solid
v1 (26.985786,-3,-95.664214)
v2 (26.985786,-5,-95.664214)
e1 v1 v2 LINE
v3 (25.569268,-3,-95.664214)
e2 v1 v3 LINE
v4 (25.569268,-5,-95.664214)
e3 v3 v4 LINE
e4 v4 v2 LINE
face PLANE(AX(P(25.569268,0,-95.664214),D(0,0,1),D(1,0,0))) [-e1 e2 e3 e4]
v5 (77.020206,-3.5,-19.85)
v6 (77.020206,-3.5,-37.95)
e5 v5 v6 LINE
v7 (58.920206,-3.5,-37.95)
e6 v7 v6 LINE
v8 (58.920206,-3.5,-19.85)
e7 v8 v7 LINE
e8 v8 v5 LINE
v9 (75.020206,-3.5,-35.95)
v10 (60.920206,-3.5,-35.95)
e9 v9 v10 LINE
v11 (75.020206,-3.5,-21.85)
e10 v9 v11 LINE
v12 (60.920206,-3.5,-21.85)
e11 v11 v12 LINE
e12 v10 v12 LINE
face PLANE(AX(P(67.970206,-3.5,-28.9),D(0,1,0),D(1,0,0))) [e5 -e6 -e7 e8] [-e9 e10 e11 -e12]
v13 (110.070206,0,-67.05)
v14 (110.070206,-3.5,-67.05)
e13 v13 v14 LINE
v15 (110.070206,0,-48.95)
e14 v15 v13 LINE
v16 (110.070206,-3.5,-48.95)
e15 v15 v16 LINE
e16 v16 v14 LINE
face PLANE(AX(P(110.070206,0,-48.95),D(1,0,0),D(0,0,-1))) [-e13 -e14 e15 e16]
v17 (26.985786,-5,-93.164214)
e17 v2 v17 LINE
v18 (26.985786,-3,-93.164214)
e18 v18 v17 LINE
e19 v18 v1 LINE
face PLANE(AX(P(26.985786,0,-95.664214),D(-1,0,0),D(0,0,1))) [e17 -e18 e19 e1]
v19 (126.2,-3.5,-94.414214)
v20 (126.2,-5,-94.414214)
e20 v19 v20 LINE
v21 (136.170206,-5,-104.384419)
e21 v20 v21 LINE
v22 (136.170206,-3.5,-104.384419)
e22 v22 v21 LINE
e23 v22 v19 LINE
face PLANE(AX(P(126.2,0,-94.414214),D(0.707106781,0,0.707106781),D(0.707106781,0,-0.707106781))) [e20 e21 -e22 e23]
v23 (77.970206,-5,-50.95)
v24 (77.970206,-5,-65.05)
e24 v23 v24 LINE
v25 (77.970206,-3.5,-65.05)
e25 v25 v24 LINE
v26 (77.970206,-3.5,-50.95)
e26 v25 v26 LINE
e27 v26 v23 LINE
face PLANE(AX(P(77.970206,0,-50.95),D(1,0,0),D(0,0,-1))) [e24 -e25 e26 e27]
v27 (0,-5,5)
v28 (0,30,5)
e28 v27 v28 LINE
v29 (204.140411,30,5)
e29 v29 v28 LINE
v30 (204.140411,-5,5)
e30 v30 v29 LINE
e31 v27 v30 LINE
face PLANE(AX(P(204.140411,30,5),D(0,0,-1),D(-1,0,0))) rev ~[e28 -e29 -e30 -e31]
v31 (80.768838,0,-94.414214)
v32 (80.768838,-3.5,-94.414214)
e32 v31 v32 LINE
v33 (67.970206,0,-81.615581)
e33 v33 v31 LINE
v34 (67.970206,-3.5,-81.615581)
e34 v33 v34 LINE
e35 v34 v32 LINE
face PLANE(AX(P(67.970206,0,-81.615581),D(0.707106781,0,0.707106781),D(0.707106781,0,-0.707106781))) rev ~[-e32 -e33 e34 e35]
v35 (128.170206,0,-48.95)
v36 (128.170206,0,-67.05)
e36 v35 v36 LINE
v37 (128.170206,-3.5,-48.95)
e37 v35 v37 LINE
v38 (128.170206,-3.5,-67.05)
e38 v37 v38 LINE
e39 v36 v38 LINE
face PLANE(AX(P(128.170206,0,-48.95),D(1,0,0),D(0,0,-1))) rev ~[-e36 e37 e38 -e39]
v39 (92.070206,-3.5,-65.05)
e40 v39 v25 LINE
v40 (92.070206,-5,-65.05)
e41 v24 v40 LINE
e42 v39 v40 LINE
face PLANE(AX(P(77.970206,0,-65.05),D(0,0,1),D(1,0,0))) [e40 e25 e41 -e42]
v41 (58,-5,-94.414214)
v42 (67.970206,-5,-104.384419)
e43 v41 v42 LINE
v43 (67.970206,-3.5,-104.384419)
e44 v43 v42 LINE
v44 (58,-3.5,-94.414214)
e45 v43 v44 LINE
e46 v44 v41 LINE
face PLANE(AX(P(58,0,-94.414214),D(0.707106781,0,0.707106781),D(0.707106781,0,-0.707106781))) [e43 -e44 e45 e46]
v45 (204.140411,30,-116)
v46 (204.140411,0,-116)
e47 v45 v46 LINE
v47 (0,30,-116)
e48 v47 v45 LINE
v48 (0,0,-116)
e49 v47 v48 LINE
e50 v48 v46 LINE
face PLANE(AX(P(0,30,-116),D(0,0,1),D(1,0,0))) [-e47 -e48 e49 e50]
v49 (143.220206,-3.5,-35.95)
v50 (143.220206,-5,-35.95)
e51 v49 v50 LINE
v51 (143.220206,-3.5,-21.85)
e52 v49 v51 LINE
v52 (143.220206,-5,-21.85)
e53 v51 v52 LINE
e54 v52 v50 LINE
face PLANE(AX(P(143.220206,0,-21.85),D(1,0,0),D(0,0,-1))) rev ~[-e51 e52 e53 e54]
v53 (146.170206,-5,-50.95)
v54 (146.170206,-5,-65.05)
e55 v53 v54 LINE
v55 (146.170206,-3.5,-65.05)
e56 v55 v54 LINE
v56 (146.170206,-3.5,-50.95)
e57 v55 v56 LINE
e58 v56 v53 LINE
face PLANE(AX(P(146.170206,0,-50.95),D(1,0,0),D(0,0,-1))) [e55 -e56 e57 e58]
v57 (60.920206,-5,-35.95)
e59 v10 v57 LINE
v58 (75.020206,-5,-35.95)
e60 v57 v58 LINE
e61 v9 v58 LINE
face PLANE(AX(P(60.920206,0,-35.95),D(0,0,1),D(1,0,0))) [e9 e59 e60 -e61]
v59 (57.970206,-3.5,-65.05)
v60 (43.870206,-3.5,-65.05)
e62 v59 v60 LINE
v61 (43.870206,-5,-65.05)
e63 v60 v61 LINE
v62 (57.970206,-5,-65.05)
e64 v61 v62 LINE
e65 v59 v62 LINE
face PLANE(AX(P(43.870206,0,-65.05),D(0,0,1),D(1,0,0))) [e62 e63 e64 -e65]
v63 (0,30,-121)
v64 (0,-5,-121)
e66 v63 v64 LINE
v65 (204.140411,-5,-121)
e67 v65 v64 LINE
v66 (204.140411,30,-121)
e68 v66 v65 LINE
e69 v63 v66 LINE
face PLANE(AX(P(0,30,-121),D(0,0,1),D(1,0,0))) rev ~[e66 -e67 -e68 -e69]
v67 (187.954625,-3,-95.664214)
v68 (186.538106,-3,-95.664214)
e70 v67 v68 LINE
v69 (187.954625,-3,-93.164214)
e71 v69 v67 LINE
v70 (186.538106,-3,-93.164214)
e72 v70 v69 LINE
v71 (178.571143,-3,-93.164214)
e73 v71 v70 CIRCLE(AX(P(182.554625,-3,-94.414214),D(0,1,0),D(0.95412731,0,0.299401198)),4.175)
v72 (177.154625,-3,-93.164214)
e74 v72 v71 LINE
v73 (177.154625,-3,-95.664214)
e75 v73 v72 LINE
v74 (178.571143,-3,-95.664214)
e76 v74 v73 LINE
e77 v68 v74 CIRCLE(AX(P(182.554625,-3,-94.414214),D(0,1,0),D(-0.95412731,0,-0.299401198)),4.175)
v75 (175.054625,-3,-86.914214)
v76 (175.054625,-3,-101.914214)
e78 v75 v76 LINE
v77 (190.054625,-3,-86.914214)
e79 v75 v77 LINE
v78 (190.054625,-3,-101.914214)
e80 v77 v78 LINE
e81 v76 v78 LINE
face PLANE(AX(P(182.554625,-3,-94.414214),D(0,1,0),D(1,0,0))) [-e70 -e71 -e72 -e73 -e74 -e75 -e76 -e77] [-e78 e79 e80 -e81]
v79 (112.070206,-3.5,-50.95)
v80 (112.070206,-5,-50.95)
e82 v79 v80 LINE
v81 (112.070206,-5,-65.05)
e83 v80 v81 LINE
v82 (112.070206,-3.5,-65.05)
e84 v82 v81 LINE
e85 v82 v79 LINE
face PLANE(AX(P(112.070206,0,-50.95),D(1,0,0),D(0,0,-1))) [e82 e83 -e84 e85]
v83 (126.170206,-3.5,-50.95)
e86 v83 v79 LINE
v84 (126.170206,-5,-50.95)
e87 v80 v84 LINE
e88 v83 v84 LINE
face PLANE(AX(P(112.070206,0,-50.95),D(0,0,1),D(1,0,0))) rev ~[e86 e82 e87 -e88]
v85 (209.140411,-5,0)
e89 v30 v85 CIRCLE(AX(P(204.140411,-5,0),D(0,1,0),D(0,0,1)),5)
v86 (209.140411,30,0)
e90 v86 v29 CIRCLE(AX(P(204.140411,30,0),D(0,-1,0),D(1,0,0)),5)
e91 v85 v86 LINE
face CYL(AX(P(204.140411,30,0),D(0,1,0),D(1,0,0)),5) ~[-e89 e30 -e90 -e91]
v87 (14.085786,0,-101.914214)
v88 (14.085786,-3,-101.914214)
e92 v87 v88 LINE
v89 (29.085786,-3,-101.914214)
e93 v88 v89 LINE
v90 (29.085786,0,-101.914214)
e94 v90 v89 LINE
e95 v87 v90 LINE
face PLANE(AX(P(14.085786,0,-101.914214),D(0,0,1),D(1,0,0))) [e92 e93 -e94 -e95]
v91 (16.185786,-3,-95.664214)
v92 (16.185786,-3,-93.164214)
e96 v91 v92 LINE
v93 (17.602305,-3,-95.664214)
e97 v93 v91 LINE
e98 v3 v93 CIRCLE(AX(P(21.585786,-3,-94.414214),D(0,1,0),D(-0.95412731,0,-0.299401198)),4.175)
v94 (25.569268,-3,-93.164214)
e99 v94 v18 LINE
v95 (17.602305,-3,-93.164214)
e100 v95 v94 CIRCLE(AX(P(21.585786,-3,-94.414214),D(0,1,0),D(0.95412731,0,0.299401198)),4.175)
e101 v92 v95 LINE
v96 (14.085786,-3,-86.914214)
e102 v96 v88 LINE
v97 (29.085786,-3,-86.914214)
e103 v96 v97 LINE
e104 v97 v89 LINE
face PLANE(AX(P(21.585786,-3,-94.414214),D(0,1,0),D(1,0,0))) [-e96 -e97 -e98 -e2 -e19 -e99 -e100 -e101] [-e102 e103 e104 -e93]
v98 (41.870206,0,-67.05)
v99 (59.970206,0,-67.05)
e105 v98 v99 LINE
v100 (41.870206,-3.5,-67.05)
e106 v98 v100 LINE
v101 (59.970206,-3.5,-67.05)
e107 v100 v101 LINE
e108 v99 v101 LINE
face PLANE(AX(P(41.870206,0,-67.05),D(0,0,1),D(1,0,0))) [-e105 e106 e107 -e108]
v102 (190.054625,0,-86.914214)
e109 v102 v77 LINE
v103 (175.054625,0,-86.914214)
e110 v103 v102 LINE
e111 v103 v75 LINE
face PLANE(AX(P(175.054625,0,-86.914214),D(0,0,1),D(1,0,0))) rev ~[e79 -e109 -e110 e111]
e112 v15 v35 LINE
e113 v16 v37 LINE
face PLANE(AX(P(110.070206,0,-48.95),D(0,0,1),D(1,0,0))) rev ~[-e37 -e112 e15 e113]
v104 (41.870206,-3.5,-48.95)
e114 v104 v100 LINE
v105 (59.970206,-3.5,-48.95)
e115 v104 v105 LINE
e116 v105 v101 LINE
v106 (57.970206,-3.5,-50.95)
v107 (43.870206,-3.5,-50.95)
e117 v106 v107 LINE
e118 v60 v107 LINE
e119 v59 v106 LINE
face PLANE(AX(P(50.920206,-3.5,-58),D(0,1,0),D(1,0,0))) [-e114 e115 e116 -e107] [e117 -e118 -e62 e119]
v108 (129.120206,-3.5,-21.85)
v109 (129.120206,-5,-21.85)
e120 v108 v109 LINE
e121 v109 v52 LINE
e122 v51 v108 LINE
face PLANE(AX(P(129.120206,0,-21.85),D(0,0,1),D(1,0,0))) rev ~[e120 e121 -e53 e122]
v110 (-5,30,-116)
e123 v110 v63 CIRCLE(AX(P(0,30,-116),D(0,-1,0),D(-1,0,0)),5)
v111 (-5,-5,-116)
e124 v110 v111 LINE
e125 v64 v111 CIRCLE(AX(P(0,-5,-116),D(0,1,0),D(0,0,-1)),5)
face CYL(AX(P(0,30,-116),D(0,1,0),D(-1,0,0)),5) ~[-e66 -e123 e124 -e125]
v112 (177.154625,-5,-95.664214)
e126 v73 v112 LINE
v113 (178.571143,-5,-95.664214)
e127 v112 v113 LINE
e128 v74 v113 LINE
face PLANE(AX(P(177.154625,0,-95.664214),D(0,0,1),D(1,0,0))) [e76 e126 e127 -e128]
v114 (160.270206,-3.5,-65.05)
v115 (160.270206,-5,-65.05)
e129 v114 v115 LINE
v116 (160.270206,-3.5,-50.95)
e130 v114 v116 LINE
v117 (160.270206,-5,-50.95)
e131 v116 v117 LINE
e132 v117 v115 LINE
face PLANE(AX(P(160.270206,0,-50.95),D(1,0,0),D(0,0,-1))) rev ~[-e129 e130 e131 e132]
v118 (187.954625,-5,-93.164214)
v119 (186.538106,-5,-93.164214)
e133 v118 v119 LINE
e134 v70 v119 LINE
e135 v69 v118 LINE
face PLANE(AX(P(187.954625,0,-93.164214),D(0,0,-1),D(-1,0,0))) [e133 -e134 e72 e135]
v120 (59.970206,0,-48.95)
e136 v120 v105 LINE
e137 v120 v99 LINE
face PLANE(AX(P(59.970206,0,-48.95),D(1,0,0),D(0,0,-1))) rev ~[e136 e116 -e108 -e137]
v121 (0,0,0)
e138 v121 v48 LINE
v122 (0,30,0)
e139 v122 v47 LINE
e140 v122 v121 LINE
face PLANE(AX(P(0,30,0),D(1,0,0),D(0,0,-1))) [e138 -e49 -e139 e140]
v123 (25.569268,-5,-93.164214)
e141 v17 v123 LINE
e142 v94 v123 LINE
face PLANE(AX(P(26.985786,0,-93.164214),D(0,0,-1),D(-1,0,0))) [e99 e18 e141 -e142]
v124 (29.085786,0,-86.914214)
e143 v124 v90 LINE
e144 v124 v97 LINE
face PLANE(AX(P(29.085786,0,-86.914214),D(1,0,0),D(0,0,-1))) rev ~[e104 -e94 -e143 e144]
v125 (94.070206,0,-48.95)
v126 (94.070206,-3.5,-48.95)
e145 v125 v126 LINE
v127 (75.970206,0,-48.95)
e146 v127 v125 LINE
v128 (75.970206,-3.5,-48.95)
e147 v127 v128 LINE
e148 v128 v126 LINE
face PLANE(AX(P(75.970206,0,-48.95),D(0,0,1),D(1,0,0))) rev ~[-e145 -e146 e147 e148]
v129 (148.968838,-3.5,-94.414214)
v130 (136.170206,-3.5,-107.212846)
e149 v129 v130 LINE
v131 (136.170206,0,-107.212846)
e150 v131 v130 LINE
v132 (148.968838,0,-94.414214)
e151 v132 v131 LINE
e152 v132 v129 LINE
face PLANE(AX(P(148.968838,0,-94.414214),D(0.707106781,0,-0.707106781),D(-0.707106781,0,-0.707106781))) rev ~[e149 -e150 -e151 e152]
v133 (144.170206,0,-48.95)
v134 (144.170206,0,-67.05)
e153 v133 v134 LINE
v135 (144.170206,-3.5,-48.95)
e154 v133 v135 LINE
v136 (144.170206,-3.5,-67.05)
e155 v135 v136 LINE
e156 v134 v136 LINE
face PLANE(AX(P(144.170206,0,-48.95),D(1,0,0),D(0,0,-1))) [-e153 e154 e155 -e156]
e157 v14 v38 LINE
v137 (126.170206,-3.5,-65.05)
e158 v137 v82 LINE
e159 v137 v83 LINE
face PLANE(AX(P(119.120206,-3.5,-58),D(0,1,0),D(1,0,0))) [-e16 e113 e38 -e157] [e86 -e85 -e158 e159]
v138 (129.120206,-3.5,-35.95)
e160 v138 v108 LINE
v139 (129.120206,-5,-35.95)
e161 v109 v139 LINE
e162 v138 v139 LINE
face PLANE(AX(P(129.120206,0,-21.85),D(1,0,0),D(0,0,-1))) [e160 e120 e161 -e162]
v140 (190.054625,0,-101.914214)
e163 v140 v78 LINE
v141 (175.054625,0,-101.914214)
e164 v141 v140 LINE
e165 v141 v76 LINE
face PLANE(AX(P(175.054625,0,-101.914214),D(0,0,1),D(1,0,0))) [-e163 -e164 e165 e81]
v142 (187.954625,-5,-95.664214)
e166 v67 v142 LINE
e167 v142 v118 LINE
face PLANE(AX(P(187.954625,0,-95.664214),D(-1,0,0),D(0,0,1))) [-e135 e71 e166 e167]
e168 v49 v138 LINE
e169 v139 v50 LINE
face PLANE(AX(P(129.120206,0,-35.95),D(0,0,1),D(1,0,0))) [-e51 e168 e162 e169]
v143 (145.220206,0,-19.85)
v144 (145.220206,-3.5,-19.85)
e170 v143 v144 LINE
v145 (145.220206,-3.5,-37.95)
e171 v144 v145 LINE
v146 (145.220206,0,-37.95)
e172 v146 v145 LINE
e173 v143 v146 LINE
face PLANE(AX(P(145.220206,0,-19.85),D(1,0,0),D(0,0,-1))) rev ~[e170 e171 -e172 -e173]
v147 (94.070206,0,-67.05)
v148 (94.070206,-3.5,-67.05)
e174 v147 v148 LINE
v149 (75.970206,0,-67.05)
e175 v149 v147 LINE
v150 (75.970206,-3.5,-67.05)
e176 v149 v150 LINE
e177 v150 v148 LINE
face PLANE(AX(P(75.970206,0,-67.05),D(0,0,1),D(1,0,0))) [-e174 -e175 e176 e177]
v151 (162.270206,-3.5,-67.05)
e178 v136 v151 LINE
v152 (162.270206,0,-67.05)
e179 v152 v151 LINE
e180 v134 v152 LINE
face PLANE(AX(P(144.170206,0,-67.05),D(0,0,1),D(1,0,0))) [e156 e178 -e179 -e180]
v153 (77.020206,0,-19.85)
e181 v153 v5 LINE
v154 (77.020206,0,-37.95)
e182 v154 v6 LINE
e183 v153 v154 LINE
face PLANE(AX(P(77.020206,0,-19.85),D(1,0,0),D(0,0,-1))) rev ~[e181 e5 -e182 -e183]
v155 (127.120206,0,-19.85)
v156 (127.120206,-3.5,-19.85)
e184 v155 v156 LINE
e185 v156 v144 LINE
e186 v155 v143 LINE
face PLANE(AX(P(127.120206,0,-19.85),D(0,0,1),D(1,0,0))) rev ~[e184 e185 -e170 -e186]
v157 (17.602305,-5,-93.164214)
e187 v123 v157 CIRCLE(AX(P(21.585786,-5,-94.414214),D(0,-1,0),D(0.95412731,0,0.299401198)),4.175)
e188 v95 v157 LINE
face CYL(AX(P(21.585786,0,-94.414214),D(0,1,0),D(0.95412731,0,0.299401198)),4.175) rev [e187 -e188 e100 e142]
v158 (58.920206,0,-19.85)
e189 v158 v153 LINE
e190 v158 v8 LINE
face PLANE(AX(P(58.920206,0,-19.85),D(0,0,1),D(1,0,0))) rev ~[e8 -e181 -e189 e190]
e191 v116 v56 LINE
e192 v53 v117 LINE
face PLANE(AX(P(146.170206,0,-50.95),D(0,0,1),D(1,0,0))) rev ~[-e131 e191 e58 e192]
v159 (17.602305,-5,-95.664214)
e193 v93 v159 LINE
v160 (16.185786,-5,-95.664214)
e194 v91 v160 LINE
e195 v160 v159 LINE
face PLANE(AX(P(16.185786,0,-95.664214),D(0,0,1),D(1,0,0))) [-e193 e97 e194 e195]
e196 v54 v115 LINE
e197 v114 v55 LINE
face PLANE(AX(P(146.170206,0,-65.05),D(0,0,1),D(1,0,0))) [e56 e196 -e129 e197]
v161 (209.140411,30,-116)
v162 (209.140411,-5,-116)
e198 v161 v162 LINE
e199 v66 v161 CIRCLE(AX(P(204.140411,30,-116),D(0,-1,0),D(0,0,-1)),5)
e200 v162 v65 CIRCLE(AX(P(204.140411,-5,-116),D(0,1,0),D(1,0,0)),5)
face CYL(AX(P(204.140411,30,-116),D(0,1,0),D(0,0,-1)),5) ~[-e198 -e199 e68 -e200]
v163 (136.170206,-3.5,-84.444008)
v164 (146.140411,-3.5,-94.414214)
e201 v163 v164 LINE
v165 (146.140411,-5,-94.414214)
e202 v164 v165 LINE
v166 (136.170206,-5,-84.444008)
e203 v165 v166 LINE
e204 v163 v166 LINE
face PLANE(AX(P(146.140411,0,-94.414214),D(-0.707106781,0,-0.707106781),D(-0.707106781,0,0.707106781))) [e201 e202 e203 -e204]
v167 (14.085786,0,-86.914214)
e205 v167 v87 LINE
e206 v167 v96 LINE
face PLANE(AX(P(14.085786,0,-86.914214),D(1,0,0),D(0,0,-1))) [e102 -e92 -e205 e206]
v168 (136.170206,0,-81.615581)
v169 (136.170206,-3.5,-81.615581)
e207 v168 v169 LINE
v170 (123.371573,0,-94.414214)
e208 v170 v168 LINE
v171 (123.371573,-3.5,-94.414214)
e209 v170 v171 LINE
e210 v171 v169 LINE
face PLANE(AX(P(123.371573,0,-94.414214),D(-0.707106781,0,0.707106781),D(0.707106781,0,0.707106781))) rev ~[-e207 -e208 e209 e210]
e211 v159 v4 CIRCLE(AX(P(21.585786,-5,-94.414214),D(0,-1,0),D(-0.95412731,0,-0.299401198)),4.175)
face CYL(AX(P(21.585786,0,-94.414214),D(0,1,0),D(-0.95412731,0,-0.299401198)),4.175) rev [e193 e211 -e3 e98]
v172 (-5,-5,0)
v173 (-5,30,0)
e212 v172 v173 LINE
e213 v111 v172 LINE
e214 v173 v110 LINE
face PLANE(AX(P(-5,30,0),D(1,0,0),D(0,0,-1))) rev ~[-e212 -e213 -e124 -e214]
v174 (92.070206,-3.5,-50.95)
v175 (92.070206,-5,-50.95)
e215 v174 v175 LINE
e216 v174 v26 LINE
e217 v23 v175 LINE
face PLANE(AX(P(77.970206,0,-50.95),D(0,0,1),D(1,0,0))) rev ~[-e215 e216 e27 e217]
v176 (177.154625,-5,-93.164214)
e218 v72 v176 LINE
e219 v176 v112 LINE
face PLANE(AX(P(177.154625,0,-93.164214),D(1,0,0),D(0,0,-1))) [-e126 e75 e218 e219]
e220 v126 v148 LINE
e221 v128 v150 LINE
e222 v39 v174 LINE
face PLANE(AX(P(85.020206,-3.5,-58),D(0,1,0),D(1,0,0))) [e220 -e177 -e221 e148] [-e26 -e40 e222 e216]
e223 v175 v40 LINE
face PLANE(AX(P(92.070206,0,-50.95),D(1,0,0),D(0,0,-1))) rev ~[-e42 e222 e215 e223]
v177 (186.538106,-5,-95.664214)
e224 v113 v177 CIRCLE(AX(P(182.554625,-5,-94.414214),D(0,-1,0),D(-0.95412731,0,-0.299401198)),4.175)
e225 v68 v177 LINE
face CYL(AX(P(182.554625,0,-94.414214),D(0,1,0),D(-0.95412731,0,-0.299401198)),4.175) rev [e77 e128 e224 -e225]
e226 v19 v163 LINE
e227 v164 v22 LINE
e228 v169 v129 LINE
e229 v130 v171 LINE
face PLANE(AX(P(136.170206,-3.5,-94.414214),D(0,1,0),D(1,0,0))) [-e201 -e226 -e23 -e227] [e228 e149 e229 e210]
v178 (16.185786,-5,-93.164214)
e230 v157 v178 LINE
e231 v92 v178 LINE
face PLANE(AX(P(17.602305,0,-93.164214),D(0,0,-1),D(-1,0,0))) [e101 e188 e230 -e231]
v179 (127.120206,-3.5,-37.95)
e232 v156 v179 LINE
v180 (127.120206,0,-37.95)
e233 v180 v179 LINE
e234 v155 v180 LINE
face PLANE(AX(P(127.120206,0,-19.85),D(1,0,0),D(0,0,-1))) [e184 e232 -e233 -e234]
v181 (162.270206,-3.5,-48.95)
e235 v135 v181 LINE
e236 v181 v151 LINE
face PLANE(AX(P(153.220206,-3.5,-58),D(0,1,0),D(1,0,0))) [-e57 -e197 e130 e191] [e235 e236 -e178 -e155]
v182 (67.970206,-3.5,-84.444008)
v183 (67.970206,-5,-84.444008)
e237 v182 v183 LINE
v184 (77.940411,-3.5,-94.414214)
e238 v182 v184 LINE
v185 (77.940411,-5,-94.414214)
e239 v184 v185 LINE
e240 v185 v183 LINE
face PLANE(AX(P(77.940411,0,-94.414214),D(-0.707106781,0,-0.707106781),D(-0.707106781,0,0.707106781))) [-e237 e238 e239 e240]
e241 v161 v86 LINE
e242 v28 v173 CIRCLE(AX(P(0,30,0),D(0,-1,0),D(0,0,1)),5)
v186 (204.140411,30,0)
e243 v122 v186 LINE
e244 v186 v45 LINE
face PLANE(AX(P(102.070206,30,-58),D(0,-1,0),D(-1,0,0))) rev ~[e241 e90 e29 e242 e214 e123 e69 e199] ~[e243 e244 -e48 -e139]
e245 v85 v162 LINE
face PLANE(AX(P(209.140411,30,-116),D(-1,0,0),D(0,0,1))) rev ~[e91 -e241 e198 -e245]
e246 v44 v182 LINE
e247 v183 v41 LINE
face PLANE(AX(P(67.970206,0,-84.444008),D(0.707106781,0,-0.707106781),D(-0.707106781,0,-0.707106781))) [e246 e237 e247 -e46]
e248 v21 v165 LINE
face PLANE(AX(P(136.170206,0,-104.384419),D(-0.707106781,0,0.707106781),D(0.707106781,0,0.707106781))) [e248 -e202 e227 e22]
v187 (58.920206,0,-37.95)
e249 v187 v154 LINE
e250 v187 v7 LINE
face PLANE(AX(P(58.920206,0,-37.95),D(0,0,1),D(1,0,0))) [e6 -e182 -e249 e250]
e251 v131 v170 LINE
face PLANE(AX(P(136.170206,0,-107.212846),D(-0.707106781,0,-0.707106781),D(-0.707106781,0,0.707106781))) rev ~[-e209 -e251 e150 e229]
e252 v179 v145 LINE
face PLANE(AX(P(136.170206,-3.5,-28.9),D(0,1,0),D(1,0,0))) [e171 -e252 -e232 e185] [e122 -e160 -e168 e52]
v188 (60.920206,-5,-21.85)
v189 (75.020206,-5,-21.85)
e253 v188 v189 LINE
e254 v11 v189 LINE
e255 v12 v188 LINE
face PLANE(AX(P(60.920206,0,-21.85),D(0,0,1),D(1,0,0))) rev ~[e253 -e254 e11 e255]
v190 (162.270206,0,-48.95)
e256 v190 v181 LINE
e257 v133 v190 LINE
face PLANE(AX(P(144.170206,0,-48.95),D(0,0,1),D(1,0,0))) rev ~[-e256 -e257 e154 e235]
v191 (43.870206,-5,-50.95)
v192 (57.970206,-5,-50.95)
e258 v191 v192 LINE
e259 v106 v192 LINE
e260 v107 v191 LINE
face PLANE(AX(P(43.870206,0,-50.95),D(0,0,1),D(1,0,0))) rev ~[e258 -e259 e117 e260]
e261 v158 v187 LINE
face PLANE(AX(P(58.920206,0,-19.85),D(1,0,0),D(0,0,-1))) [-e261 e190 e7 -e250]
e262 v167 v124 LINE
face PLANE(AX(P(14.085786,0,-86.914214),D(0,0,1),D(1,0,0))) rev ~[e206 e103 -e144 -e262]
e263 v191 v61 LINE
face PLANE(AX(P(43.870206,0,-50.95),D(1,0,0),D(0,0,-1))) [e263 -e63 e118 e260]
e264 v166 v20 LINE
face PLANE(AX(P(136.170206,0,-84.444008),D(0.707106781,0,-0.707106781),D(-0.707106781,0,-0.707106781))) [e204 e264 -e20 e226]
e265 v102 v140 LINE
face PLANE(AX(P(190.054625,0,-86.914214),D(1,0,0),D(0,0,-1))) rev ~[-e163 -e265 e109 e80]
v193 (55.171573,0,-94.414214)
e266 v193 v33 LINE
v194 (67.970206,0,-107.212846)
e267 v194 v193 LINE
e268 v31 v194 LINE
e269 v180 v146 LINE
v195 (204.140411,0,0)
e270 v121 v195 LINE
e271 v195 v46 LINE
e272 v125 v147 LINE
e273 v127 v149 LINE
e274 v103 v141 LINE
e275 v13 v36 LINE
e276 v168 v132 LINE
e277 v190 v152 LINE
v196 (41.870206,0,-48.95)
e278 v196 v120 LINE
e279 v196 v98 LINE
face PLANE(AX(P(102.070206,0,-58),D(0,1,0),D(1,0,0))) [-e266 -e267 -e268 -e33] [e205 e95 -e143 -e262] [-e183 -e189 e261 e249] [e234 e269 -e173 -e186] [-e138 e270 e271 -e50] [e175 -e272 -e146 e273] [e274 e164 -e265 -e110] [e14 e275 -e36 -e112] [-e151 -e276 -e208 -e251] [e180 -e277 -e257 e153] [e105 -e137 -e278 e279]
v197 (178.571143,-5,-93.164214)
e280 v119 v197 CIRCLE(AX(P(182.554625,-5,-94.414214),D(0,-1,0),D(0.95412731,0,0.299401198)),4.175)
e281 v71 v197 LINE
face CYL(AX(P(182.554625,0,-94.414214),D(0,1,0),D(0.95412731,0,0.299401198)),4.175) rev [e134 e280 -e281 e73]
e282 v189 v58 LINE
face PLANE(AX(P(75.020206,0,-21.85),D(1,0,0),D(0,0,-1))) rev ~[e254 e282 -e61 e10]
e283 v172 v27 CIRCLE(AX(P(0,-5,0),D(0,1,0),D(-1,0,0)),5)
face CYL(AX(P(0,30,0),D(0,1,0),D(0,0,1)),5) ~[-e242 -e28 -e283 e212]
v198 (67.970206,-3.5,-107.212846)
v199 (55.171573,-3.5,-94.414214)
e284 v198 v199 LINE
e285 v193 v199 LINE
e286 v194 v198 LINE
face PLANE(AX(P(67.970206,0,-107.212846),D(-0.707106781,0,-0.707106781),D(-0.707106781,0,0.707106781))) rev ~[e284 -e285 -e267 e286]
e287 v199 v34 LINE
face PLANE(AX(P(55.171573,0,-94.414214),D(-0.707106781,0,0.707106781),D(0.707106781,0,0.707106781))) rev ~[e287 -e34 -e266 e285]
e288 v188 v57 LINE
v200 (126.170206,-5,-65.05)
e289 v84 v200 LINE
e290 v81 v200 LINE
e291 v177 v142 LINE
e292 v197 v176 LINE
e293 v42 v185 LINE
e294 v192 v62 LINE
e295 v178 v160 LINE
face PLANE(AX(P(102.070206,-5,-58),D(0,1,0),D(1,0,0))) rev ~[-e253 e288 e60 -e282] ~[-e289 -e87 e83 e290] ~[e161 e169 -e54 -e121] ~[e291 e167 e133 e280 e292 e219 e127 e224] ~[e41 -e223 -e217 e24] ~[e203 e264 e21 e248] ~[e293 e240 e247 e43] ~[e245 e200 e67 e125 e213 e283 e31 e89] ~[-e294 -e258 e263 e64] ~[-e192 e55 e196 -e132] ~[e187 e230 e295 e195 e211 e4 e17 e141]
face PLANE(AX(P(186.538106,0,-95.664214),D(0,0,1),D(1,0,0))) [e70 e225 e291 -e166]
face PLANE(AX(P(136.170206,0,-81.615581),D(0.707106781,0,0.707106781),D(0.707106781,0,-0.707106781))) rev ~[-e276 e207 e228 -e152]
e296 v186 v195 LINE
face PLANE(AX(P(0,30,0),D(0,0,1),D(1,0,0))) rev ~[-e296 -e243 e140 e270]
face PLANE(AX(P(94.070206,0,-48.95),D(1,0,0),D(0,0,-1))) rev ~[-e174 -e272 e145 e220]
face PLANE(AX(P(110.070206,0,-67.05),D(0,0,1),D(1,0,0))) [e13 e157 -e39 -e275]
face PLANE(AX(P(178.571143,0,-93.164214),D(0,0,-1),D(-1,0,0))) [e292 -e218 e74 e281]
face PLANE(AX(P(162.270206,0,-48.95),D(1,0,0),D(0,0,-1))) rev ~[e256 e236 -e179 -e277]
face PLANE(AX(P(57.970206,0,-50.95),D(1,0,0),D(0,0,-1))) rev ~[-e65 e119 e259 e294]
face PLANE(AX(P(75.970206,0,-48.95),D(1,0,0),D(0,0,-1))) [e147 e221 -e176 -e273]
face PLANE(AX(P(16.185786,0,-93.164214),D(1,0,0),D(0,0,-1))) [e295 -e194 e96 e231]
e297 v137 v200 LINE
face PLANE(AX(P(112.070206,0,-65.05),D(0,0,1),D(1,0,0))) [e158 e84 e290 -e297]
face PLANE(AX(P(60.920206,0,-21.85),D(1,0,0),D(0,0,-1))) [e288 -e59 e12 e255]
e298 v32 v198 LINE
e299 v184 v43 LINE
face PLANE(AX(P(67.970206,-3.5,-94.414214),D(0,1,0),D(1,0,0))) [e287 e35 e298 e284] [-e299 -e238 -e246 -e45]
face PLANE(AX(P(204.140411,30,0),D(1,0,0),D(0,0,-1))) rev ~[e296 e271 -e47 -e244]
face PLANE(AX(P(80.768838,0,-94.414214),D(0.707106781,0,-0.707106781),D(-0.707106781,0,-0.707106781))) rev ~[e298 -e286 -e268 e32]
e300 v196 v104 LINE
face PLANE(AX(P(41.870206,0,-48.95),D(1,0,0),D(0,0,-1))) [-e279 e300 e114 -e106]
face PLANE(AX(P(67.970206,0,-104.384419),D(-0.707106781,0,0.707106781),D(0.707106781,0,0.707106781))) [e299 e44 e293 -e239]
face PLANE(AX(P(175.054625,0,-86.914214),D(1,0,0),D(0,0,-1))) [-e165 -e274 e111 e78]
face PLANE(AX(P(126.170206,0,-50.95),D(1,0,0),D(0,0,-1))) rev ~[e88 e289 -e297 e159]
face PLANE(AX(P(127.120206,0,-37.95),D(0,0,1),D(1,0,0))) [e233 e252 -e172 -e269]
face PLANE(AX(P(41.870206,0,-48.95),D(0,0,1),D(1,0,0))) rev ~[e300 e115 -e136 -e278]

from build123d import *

# Parameters (mm, degrees)
SKETCH1_W           = 14.1
SKETCH1_H           = 14.1
BOSS_EXTRUDE1_DEPTH = 5
BOSS_EXTRUDE2_START = 30
SKETCH1_3_W         = 204.140411229
SKETCH1_3_H         = 116
SKETCH1_3_W_2       = 14.1
SKETCH1_3_H_2       = 14.1
SKETCH1_3_R         = 4.175
SKETCH1_3_W_3       = 10.8
SKETCH1_3_H_3       = 2.5
BOSS_EXTRUDE2_DEPTH = 30
SKETCH3_W           = 18.1
SKETCH3_H           = 18.1
CUT_EXTRUDE1_DEPTH  = 3.5
SKETCH4_W           = 15
SKETCH4_H           = 15
CUT_EXTRUDE2_DEPTH  = 3


with BuildPart() as part:
    # Sketch1 → Boss-Extrude1 (new body)
    with BuildSketch(Plane(origin=(0, 0, 0), x_dir=(1, 0, 0), z_dir=(0, 1, 0))):
        with BuildLine():
            Line((-5, 116), (-5, 0))
            ThreePointArc((-5, 0), (-3.535533906, -3.535533906), (0, -5))
            Line((0, -5), (204.140411229, -5))
            ThreePointArc((204.140411229, -5), (207.675945135, -3.535533906), (209.140411229, 0))
            Line((209.140411229, 0), (209.140411229, 116))
            ThreePointArc((209.140411229, 116), (207.675945135, 119.535533906), (204.140411229, 121))
            Line((204.140411229, 121), (0, 121))
            ThreePointArc((0, 121), (-3.535533906, 119.535533906), (-5, 116))
        make_face()
        with Locations((50.920205615, 58)):
            Rectangle(SKETCH1_W, SKETCH1_H, mode=Mode.SUBTRACT)
        with Locations((85.020205615, 58)):
            Rectangle(SKETCH1_W, SKETCH1_H, mode=Mode.SUBTRACT)
        with Locations((67.970205615, 28.9)):
            Rectangle(SKETCH1_W, SKETCH1_H, mode=Mode.SUBTRACT)
        with Locations((136.170205615, 28.9)):
            Rectangle(SKETCH1_W, SKETCH1_H, mode=Mode.SUBTRACT)
        with Locations((119.120205615, 58)):
            Rectangle(SKETCH1_W, SKETCH1_H, mode=Mode.SUBTRACT)
        with Locations((153.220205615, 58)):
            Rectangle(SKETCH1_W, SKETCH1_H, mode=Mode.SUBTRACT)
        Polygon((77.940411229, 94.414213562), (67.970205615, 84.444007948), (58, 94.414213562), (67.970205615, 104.384419177), align=None, mode=Mode.SUBTRACT)
        Polygon((126.2, 94.414213562), (136.170205615, 104.384419177), (146.140411229, 94.414213562), (136.170205615, 84.444007948), align=None, mode=Mode.SUBTRACT)
        with BuildLine():
            Line((16.185786438, 93.164213562), (16.185786438, 95.664213562))
            Line((16.185786438, 95.664213562), (17.60230492, 95.664213562))
            ThreePointArc((17.60230492, 95.664213562), (21.585786438, 98.589213562), (25.569267955, 95.664213562))
            Line((25.569267955, 95.664213562), (26.985786438, 95.664213562))
            Line((26.985786438, 95.664213562), (26.985786438, 93.164213562))
            Line((26.985786438, 93.164213562), (25.569267955, 93.164213562))
            ThreePointArc((25.569267955, 93.164213562), (21.585786438, 90.239213562), (17.60230492, 93.164213562))
            Line((17.60230492, 93.164213562), (16.185786438, 93.164213562))
        make_face(mode=Mode.SUBTRACT)
        with BuildLine():
            Line((177.154624792, 93.164213562), (177.154624792, 95.664213562))
            Line((177.154624792, 95.664213562), (178.571143274, 95.664213562))
            ThreePointArc((178.571143274, 95.664213562), (182.554624792, 98.589213562), (186.538106309, 95.664213562))
            Line((186.538106309, 95.664213562), (187.954624792, 95.664213562))
            Line((187.954624792, 95.664213562), (187.954624792, 93.164213562))
            Line((187.954624792, 93.164213562), (186.538106309, 93.164213562))
            ThreePointArc((186.538106309, 93.164213562), (182.554624792, 90.239213562), (178.571143274, 93.164213562))
            Line((178.571143274, 93.164213562), (177.154624792, 93.164213562))
        make_face(mode=Mode.SUBTRACT)
    extrude(amount=-BOSS_EXTRUDE1_DEPTH)

    # Sketch1<3> → Boss-Extrude2 (add)
    # profile 1 of 13: a face of its own
    with BuildSketch(Plane(origin=(0, 0, 0), x_dir=(1, 0, 0), z_dir=(0, 1, 0)).offset(BOSS_EXTRUDE2_START)):
        with BuildLine():
            Line((-5, 0), (-5, 116))
            ThreePointArc((-5, 116), (-3.535533906, 119.535533906), (0, 121))
            Line((0, 121), (204.140411229, 121))
            ThreePointArc((204.140411229, 121), (207.675945135, 119.535533906), (209.140411229, 116))
            Line((209.140411229, 116), (209.140411229, 0))
            ThreePointArc((209.140411229, 0), (207.675945135, -3.535533906), (204.140411229, -5))
            Line((204.140411229, -5), (0, -5))
            ThreePointArc((0, -5), (-3.535533906, -3.535533906), (-5, 0))
        make_face()
        with Locations((102.070205615, 58)):
            Rectangle(SKETCH1_3_W, SKETCH1_3_H, mode=Mode.SUBTRACT)
    # profile 2 of 13: a face of its own
    with BuildSketch(Plane(origin=(0, 0, 0), x_dir=(1, 0, 0), z_dir=(0, 1, 0)).offset(BOSS_EXTRUDE2_START)):
        Polygon((136.170205615, 84.444007948), (126.2, 94.414213562), (136.170205615, 104.384419177), (146.140411229, 94.414213562), align=None)
    # profile 3 of 13: a face of its own
    with BuildSketch(Plane(origin=(0, 0, 0), x_dir=(1, 0, 0), z_dir=(0, 1, 0)).offset(BOSS_EXTRUDE2_START)):
        Polygon((67.970205615, 104.384419177), (58, 94.414213562), (67.970205615, 84.444007948), (77.940411229, 94.414213562), align=None)
    # profile 4 of 13: a face of its own
    with BuildSketch(Plane(origin=(0, 0, 0), x_dir=(1, 0, 0), z_dir=(0, 1, 0)).offset(BOSS_EXTRUDE2_START)):
        with Locations((153.220205615, 58)):
            Rectangle(SKETCH1_3_W_2, SKETCH1_3_H_2)
    # profile 5 of 13: a face of its own
    with BuildSketch(Plane(origin=(0, 0, 0), x_dir=(1, 0, 0), z_dir=(0, 1, 0)).offset(BOSS_EXTRUDE2_START)):
        with Locations((119.120205615, 58)):
            Rectangle(SKETCH1_3_W_2, SKETCH1_3_H_2)
    # profile 6 of 13: a face of its own
    with BuildSketch(Plane(origin=(0, 0, 0), x_dir=(1, 0, 0), z_dir=(0, 1, 0)).offset(BOSS_EXTRUDE2_START)):
        with Locations((136.170205615, 28.9)):
            Rectangle(SKETCH1_3_W_2, SKETCH1_3_H_2)
    # profile 7 of 13: a face of its own
    with BuildSketch(Plane(origin=(0, 0, 0), x_dir=(1, 0, 0), z_dir=(0, 1, 0)).offset(BOSS_EXTRUDE2_START)):
        with Locations((67.970205615, 28.9)):
            Rectangle(SKETCH1_3_W_2, SKETCH1_3_H_2)
    # profile 8 of 13: a face of its own
    with BuildSketch(Plane(origin=(0, 0, 0), x_dir=(1, 0, 0), z_dir=(0, 1, 0)).offset(BOSS_EXTRUDE2_START)):
        with Locations((85.020205615, 58)):
            Rectangle(SKETCH1_3_W_2, SKETCH1_3_H_2)
    # profile 9 of 13: a face of its own
    with BuildSketch(Plane(origin=(0, 0, 0), x_dir=(1, 0, 0), z_dir=(0, 1, 0)).offset(BOSS_EXTRUDE2_START)):
        with Locations((50.920205615, 58)):
            Rectangle(SKETCH1_3_W_2, SKETCH1_3_H_2)
    # profile 10 of 13: a face of its own
    with BuildSketch(Plane(origin=(0, 0, 0), x_dir=(1, 0, 0), z_dir=(0, 1, 0)).offset(BOSS_EXTRUDE2_START)):
        with Locations((182.554624792, 94.414213562)):
            Circle(SKETCH1_3_R)
    # profile 11 of 13: a face of its own
    with BuildSketch(Plane(origin=(0, 0, 0), x_dir=(1, 0, 0), z_dir=(0, 1, 0)).offset(BOSS_EXTRUDE2_START)):
        with Locations((21.585786438, 94.414213562)):
            Circle(SKETCH1_3_R)
    # profile 12 of 13: a face of its own
    with BuildSketch(Plane(origin=(0, 0, 0), x_dir=(1, 0, 0), z_dir=(0, 1, 0)).offset(BOSS_EXTRUDE2_START)):
        with Locations((21.585786438, 94.414213562)):
            Rectangle(SKETCH1_3_W_3, SKETCH1_3_H_3)
    # profile 13 of 13: a face of its own
    with BuildSketch(Plane(origin=(0, 0, 0), x_dir=(1, 0, 0), z_dir=(0, 1, 0)).offset(BOSS_EXTRUDE2_START)):
        with Locations((182.554624792, 94.414213562)):
            Rectangle(SKETCH1_3_W_3, SKETCH1_3_H_3)
    extrude(amount=-BOSS_EXTRUDE2_DEPTH)


with BuildPart() as boss_extrude2_kept_piece:
    # of the separate pieces the step leaves, the one the design keeps (boss_extrude2_pieces_kept)
    add(part.part.solids().sort_by_distance((204.140411229, -5, -121))[0])

    # Sketch3 → Cut-Extrude1 (cut)
    with BuildSketch(Plane(origin=(0, 0, 0), x_dir=(1, 0, 0), z_dir=(0, 1, 0))):
        with Locations((50.920205615, 58)):
            Rectangle(SKETCH3_W, SKETCH3_H)
        Polygon((67.970205615, 107.212846302), (55.171572875, 94.414213562), (67.970205615, 81.615580823), (80.768838354, 94.414213562), align=None)
        with Locations((67.970205615, 28.9)):
            Rectangle(SKETCH3_W, SKETCH3_H)
        with Locations((85.020205615, 58)):
            Rectangle(SKETCH3_W, SKETCH3_H)
        with Locations((119.120205615, 58)):
            Rectangle(SKETCH3_W, SKETCH3_H)
        with Locations((153.220205615, 58)):
            Rectangle(SKETCH3_W, SKETCH3_H)
        Polygon((123.371572875, 94.414213562), (136.170205615, 81.615580823), (148.968838354, 94.414213562), (136.170205615, 107.212846302), align=None)
        with Locations((136.170205615, 28.9)):
            Rectangle(SKETCH3_W, SKETCH3_H)
    extrude(amount=-CUT_EXTRUDE1_DEPTH, mode=Mode.SUBTRACT)

    # Sketch4 → Cut-Extrude2 (cut)
    with BuildSketch(Plane(origin=(0, 0, 0), x_dir=(1, 0, 0), z_dir=(0, 1, 0))):
        with Locations((21.585786438, 94.414213562)):
            Rectangle(SKETCH4_W, SKETCH4_H)
        with Locations((182.554624792, 94.414213562)):
            Rectangle(SKETCH4_W, SKETCH4_H)
    extrude(amount=-CUT_EXTRUDE2_DEPTH, mode=Mode.SUBTRACT)


solid = boss_extrude2_kept_piece.part
